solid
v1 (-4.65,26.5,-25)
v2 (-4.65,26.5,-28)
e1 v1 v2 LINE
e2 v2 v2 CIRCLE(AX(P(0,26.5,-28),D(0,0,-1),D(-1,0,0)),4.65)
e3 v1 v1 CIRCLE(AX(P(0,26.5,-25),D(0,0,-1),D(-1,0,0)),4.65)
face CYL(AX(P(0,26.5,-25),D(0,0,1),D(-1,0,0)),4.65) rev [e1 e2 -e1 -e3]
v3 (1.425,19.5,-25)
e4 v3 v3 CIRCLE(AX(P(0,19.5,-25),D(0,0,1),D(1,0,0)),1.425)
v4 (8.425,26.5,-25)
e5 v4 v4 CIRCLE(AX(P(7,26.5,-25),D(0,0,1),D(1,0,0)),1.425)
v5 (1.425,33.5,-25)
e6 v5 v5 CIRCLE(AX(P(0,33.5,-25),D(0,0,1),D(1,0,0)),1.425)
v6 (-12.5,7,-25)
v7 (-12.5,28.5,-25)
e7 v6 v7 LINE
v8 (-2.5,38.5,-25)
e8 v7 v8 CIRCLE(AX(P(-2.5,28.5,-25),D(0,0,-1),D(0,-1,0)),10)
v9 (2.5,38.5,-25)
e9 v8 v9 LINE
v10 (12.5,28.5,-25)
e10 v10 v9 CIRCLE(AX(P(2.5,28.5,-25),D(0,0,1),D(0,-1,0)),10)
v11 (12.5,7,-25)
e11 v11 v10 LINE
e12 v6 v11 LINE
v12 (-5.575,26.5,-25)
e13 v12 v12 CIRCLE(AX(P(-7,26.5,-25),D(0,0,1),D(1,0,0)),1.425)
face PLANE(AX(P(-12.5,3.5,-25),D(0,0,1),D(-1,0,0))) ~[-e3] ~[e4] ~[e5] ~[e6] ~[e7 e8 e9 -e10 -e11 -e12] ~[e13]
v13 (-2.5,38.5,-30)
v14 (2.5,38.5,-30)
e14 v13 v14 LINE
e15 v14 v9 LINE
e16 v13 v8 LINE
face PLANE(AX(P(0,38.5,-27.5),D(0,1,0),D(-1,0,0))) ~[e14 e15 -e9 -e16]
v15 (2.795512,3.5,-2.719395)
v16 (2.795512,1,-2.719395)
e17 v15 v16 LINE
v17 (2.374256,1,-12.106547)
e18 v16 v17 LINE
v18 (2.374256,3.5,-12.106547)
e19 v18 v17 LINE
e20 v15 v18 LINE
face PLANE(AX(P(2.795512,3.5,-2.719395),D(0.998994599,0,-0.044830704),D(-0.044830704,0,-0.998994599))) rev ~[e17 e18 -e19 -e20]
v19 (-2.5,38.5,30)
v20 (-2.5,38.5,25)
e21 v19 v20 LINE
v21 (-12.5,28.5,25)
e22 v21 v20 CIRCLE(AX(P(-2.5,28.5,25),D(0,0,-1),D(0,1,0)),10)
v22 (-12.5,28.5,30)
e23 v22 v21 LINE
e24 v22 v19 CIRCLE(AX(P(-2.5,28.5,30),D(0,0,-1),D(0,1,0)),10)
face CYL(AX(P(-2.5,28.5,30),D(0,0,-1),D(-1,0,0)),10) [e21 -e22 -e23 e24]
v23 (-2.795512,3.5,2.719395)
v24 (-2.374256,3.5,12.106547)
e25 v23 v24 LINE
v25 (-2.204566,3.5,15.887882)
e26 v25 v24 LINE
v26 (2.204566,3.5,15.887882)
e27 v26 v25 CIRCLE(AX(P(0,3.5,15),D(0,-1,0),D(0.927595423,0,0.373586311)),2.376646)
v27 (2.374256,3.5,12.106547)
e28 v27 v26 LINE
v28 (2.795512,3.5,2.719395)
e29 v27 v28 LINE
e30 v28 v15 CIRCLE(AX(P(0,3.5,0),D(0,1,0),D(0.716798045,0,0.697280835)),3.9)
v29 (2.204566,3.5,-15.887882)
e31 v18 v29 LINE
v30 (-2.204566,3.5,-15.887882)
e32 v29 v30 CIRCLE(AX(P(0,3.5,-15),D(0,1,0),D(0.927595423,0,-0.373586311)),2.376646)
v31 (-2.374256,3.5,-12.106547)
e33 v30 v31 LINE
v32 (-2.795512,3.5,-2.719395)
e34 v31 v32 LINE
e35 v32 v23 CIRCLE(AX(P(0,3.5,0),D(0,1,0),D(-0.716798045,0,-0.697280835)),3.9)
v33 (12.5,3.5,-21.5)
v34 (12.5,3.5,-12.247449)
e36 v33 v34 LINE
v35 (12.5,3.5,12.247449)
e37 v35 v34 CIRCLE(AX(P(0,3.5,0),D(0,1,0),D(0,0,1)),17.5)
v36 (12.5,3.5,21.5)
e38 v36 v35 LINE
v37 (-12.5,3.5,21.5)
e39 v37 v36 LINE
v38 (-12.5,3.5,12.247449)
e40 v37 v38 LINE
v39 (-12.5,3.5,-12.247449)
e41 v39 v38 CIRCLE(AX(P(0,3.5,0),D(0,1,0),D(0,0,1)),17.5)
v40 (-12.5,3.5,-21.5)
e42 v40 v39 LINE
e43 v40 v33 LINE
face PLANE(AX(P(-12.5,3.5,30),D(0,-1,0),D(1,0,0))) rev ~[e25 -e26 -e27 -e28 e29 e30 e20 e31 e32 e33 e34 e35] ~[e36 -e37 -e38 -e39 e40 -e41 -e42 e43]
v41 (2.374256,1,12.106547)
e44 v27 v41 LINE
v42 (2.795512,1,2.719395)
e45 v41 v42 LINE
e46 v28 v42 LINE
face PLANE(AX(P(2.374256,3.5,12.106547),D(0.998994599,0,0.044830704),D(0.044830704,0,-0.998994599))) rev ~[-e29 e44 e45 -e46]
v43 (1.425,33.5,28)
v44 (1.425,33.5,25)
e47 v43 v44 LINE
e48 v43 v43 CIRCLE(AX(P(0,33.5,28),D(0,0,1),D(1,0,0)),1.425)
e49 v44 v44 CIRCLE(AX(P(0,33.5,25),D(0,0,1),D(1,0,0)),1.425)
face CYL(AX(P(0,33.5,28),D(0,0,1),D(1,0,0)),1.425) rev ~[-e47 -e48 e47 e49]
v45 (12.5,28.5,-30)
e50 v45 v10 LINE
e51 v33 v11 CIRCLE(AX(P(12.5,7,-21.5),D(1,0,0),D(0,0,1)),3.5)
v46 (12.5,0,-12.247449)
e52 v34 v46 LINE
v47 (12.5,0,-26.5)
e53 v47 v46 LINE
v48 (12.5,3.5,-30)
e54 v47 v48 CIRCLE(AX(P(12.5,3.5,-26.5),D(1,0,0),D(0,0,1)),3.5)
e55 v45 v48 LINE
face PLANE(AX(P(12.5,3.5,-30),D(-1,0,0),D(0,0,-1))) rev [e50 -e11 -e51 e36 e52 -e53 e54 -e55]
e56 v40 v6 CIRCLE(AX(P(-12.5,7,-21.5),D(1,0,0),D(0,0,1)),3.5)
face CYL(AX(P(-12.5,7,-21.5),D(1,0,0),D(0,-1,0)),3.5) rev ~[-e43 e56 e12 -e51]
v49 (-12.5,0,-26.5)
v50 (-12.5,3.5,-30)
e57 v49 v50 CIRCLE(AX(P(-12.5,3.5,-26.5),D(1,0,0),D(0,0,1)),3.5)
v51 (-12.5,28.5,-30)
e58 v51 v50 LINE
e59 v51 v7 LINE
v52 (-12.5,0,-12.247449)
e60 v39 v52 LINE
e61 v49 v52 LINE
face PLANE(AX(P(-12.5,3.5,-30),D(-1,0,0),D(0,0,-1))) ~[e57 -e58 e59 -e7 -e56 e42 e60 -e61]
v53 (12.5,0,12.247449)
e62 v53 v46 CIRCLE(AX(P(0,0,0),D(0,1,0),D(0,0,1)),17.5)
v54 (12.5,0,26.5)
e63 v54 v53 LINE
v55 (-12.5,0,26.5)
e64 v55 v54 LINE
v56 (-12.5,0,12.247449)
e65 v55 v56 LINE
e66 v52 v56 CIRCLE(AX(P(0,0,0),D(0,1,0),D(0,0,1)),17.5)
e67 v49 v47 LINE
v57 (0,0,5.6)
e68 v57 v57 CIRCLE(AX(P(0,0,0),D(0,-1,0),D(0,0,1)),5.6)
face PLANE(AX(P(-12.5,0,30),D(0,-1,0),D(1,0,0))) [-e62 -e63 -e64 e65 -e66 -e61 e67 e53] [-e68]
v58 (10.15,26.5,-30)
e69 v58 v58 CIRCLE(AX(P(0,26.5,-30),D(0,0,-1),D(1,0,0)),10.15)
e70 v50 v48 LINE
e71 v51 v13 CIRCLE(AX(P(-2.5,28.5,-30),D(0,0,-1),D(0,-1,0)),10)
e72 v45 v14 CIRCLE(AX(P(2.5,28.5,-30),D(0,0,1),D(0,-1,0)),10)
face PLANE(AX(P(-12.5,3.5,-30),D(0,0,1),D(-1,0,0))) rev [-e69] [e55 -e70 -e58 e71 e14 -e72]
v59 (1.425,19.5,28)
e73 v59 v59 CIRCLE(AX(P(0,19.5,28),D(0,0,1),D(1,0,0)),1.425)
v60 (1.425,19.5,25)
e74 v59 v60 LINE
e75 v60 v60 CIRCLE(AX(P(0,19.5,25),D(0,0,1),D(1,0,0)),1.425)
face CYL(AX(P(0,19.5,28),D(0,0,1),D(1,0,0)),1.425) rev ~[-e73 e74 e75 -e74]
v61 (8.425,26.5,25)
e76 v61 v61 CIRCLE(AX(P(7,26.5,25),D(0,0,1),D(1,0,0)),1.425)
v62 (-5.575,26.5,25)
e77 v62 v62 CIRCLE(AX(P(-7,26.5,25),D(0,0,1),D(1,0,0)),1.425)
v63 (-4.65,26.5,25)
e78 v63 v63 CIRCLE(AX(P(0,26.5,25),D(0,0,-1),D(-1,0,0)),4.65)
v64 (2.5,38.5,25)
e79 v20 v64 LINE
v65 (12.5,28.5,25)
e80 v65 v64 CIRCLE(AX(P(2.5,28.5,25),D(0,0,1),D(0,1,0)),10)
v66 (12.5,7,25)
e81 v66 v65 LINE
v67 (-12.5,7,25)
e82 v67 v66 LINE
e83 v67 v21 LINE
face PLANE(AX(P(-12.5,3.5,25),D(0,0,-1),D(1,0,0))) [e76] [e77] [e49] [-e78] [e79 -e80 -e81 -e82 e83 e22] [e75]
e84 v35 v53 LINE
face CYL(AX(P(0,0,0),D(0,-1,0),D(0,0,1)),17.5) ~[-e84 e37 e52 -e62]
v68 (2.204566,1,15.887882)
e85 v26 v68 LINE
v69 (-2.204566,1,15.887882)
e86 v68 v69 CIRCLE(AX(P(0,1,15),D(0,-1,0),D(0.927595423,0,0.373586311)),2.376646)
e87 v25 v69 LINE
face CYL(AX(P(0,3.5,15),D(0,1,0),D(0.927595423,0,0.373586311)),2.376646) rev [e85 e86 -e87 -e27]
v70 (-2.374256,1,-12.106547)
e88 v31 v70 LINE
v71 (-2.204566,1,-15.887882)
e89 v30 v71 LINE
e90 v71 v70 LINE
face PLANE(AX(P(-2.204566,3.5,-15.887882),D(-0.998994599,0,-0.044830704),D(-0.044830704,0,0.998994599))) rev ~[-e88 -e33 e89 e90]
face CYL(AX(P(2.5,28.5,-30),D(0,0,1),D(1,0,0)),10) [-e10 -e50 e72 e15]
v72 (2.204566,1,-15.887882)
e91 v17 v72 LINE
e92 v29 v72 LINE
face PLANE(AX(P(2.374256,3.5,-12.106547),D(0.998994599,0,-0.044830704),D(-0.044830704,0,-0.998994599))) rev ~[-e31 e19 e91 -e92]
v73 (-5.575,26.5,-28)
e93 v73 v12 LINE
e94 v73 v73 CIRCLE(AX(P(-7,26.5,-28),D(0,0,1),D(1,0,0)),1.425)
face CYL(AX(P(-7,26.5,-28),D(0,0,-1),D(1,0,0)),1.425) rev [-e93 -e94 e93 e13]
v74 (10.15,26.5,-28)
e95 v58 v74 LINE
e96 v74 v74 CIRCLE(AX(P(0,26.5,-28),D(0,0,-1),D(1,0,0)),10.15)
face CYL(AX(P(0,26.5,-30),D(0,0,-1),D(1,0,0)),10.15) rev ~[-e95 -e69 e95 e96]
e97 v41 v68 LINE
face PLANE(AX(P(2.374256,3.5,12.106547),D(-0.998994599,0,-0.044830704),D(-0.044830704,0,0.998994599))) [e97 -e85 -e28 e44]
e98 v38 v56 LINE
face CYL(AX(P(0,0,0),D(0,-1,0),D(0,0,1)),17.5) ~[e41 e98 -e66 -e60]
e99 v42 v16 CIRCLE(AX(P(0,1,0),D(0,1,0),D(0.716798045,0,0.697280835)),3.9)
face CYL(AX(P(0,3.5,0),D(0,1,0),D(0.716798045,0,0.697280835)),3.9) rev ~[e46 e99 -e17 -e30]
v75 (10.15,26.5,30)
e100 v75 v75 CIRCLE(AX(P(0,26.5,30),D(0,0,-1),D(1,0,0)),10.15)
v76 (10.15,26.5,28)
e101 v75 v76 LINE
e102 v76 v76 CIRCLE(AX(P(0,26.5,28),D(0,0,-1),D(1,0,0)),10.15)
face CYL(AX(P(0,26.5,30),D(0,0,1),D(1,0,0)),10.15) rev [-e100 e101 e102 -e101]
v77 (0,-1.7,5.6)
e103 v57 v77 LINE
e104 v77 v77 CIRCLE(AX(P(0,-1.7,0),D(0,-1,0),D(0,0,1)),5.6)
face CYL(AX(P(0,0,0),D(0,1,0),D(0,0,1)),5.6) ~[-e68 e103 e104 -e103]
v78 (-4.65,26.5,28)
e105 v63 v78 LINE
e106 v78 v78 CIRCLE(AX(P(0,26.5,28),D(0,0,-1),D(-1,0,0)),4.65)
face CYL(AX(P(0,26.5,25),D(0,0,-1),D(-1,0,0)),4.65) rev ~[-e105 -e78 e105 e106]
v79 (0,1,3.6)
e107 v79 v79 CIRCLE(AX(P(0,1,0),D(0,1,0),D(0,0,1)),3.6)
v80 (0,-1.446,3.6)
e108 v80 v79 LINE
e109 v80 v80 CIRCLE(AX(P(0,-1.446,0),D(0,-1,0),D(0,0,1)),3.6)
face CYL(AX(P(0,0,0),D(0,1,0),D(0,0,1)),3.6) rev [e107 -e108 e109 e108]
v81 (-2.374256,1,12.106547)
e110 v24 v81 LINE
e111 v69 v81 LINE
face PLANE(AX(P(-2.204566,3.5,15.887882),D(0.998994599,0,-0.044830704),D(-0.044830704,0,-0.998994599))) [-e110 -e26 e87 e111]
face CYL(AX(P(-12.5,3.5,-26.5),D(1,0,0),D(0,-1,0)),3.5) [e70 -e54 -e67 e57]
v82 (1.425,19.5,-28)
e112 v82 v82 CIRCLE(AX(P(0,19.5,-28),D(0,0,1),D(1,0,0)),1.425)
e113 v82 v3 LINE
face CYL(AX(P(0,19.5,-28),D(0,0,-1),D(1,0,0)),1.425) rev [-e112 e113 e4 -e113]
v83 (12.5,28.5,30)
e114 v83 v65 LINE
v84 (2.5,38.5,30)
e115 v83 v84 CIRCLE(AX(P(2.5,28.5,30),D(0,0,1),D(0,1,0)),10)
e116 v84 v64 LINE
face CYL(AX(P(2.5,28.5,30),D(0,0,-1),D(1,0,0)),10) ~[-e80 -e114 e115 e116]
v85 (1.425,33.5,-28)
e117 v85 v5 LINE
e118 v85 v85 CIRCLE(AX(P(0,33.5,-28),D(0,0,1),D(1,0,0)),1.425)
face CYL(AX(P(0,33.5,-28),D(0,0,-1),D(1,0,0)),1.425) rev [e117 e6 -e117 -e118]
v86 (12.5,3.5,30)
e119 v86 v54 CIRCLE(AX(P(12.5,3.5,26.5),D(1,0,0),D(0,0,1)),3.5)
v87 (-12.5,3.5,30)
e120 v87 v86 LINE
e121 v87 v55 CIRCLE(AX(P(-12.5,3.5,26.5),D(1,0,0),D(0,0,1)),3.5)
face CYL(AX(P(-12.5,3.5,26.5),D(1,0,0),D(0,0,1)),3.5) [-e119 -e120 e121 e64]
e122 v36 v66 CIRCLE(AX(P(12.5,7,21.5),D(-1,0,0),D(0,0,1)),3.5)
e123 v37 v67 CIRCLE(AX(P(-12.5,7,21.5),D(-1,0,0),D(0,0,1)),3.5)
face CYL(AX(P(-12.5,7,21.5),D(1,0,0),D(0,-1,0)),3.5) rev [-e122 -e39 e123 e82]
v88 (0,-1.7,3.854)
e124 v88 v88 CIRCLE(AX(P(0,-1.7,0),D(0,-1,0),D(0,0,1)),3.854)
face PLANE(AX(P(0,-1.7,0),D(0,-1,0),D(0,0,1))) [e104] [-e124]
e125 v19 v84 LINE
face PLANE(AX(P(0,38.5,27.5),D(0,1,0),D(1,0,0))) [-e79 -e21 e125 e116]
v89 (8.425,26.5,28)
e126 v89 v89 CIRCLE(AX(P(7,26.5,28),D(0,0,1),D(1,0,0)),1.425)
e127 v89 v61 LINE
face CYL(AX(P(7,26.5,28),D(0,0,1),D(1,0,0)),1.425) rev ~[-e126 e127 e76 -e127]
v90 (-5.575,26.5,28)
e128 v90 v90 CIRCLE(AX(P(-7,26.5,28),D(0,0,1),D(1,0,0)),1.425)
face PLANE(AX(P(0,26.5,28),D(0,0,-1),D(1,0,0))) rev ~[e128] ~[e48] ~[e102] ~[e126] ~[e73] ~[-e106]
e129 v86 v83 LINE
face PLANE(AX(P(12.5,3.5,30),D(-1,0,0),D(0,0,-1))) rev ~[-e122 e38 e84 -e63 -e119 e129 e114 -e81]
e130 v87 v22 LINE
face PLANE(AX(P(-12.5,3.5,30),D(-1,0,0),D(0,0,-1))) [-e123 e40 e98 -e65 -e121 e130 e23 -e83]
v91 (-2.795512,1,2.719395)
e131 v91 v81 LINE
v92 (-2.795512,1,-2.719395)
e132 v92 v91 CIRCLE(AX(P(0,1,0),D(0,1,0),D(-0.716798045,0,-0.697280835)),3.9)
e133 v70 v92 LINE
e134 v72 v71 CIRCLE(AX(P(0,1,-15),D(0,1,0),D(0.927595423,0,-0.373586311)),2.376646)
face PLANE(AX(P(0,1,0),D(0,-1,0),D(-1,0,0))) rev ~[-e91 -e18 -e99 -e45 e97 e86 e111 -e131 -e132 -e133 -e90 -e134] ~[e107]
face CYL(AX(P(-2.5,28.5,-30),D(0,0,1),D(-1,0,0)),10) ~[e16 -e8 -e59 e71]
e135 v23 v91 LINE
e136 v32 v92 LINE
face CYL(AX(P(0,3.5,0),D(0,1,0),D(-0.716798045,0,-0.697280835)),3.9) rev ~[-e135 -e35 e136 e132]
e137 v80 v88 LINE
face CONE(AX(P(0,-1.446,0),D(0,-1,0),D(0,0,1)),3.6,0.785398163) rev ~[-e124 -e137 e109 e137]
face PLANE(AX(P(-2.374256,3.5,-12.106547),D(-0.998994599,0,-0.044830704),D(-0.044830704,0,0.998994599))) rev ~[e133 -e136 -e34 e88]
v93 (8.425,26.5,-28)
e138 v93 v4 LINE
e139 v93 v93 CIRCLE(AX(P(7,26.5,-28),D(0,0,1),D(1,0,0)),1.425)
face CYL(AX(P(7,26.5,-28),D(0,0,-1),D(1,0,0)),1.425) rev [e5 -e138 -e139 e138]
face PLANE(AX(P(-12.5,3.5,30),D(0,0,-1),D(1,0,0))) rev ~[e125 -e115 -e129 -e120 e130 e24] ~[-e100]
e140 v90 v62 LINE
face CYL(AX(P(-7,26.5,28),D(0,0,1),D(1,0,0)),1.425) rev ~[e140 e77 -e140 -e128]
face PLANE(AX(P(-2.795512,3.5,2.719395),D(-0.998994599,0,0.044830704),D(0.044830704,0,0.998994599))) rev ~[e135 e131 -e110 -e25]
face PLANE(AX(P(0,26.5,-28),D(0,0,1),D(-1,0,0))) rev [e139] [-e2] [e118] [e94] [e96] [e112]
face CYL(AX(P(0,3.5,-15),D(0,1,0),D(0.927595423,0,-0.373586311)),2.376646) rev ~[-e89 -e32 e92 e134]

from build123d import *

# Parameters (mm, degrees)
CROQUIS1_R                   = 17.5
CROQUIS1_R_2                 = 1.65
SALIENTE_EXTRUIR1_DEPTH      = 3.5
CORTAR_EXTRUIR1_DEPTH        = 2.5
CROQUIS4_R                   = 3.6
CORTAR_EXTRUIR2_DEPTH        = 25.874685928
CORTAR_EXTRUIR2_DEPTH_BACK   = 25.874685928
CROQUIS5_R                   = 5.6
CROQUIS5_R_2                 = 3.6
SALIENTE_EXTRUIR2_DEPTH      = 1.7
SALIENTE_EXTRUIR3_REACH      = 52.742
SALIENTE_EXTRUIR3_END_RADIUS = 17.5
CROQUIS6_W                   = 25
CROQUIS6_H                   = 3.5
CROQUIS7_W                   = 25
CROQUIS7_H                   = 5
SALIENTE_EXTRUIR4_DEPTH      = 35
REDONDEO1_R                  = 3.5
REDONDEO1_OF_SIMETR_A1_R     = 3.5
CHAFL_N1_SIZE                = 0.254
CORTAR_EXTRUIR3_DEPTH        = 2.5
CROQUIS10_R                  = 10.15
CROQUIS10_R_2                = 1.425
CROQUIS10_R_3                = 1
CORTAR_EXTRUIR7_DEPTH        = 2
CORTAR_EXTRUIR8_REACH        = 71.379
CROQUIS11_R                  = 4.65
CORTAR_EXTRUIR9_REACH        = 73.781
CROQUIS13_R                  = 1.425
REDONDEO2_R                  = 10
CORTAR_EXTRUIR10_DEPTH       = 2.5


with BuildPart() as part:
    # Croquis1 → Saliente-Extruir1 (new body)
    with BuildSketch(Plane(origin=(0, 0, 0), x_dir=(1, 0, 0), z_dir=(0, 1, 0))):
        with Locations(Location((0, 0, 0), (0, 0, 270))):
            Circle(CROQUIS1_R)
        with Locations(Location((0, 0, 0), (0, 0, 270))):
            Circle(CROQUIS1_R_2, mode=Mode.SUBTRACT)
        with BuildLine():
            Line((-1.997159934, -12.106546701), (-2.53, -2.118749631))
            ThreePointArc((-2.53, -2.118749631), (-3.3, 0), (-2.53, 2.118749631))
            Line((-2.53, 2.118749631), (-1.997159934, 12.106546701))
            ThreePointArc((-1.997159934, 12.106546701), (0, 14), (1.997159934, 12.106546701))
            Line((1.997159934, 12.106546701), (2.53, 2.118749631))
            ThreePointArc((2.53, 2.118749631), (3.3, 0), (2.53, -2.118749631))
            Line((2.53, -2.118749631), (1.997159934, -12.106546701))
            ThreePointArc((1.997159934, -12.106546701), (0, -14), (-1.997159934, -12.106546701))
        make_face()
        with Locations(Location((0, 0, 0), (0, 0, 270))):
            Circle(CROQUIS1_R_2, mode=Mode.SUBTRACT)
    extrude(amount=SALIENTE_EXTRUIR1_DEPTH)

    # Croquis2 → Cortar-Extruir1 (cut)
    with BuildSketch(Plane(origin=(0, 3.5, 0), x_dir=(1, 0, 0), z_dir=(0, 1, 0))):
        with BuildLine():
            Line((-1.997159934, -12.106546701), (-2.53, -2.118749631))
            ThreePointArc((-2.53, -2.118749631), (-3.3, 0), (-2.53, 2.118749631))
            Line((-2.53, 2.118749631), (-1.997159934, 12.106546701))
            ThreePointArc((-1.997159934, 12.106546701), (0, 14), (1.997159934, 12.106546701))
            Line((1.997159934, 12.106546701), (2.53, 2.118749631))
            ThreePointArc((2.53, 2.118749631), (3.3, 0), (2.53, -2.118749631))
            Line((2.53, -2.118749631), (1.997159934, -12.106546701))
            ThreePointArc((1.997159934, -12.106546701), (0, -14), (-1.997159934, -12.106546701))
        make_face()
    extrude(amount=-CORTAR_EXTRUIR1_DEPTH, mode=Mode.SUBTRACT)

    # Croquis4 → Cortar-Extruir2 (cut, two sides)
    with BuildSketch(Plane(origin=(0, 1, 0), x_dir=(1, 0, 0), z_dir=(0, 1, 0))) as cortar_extruir2_sk:
        with Locations(Location((0, 0, 0), (0, 0, 270))):
            Circle(CROQUIS4_R)
    extrude(amount=CORTAR_EXTRUIR2_DEPTH, mode=Mode.SUBTRACT)
    extrude(cortar_extruir2_sk.sketch, amount=-CORTAR_EXTRUIR2_DEPTH_BACK, mode=Mode.SUBTRACT)

    # Croquis5 → Saliente-Extruir2 (add)
    with BuildSketch(Plane.XZ):
        with Locations(Location((0, 0, 0), (0, 0, 90))):
            Circle(CROQUIS5_R)
        with Locations(Location((0, 0, 0), (0, 0, 90))):
            Circle(CROQUIS5_R_2, mode=Mode.SUBTRACT)
    extrude(amount=SALIENTE_EXTRUIR2_DEPTH)

    # Saliente-Extruir3: up to this cylinder (the profile starts outside it)
    saliente_extruir3_end = Plane(origin=(0, 1.75, 0), z_dir=(0, -1, 0)) * Cylinder(SALIENTE_EXTRUIR3_END_RADIUS, 141.484, mode=Mode.PRIVATE)
    # Croquis6 → Saliente-Extruir3 (add, up to the surface)
    with BuildSketch(Plane.XY.offset(30), mode=Mode.PRIVATE) as saliente_extruir3_sk1:
        with Locations((0, 1.75)):
            Rectangle(CROQUIS6_W, CROQUIS6_H)
    saliente_extruir3_tool1 = extrude(saliente_extruir3_sk1.sketch, amount=-SALIENTE_EXTRUIR3_REACH, mode=Mode.PRIVATE) - saliente_extruir3_end
    saliente_extruir3 = saliente_extruir3_tool1.solids().sort_by_distance((0, 1.75, 30))[0]
    add(saliente_extruir3)

    # Croquis7 → Saliente-Extruir4 (add)
    with BuildSketch(Plane(origin=(0, 3.5, 0), x_dir=(1, 0, 0), z_dir=(0, 1, 0))):
        with Locations((0, -27.5)):
            Rectangle(CROQUIS7_W, CROQUIS7_H)
    saliente_extruir4 = extrude(amount=SALIENTE_EXTRUIR4_DEPTH)

    # Redondeo1
    redondeo1_edges = [part.edges().sort_by_distance(p)[0] for p in [
        (0, 0, 30),
        (0, 3.5, 25),
    ]]
    fillet(redondeo1_edges, radius=REDONDEO1_R)

    # Simetría1: Saliente-Extruir3, Saliente-Extruir4 across plane
    add(saliente_extruir3.mirror(Plane.XY))
    add(saliente_extruir4.mirror(Plane.XY))

    # Redondeo1 of Simetría1
    redondeo1_of_simetr_a1_edges = [part.edges().sort_by_distance(p)[0] for p in [
        (0, 0, -30),
        (0, 3.5, -25),
    ]]
    fillet(redondeo1_of_simetr_a1_edges, radius=REDONDEO1_OF_SIMETR_A1_R)

    # Chaflán1
    chafl_n1_edges = [part.edges().sort_by_distance(p)[0] for p in [
        (0, -1.7, -3.6),
    ]]
    chamfer(chafl_n1_edges, length=CHAFL_N1_SIZE)

    # Croquis8 → Cortar-Extruir3 (cut)
    with BuildSketch(Plane(origin=(0, 3.5, 0), x_dir=(1, 0, 0), z_dir=(0, 1, 0))):
        with BuildLine():
            Line((-2.795512377, -2.719395254), (-2.374256235, -12.106546701))
            ThreePointArc((-2.374256235, -12.106546701), (0, -14.376645718), (2.374256235, -12.106546701))
            Line((2.374256235, -12.106546701), (2.795512377, -2.719395254))
            ThreePointArc((2.795512377, -2.719395254), (3.9, 0), (2.795512377, 2.719395254))
            Line((2.795512377, 2.719395254), (2.374256235, 12.106546701))
            ThreePointArc((2.374256235, 12.106546701), (0, 14.376645718), (-2.374256235, 12.106546701))
            Line((-2.374256235, 12.106546701), (-2.795512377, 2.719395254))
            ThreePointArc((-2.795512377, 2.719395254), (-3.9, 0), (-2.795512377, -2.719395254))
        make_face()
    extrude(amount=-CORTAR_EXTRUIR3_DEPTH, mode=Mode.SUBTRACT)

    # Croquis10 → Cortar-Extruir7 (cut)
    with BuildSketch(Plane(origin=(0, 0, 30), x_dir=(-1, 0, 0), z_dir=(0, 0, -1))):
        with Locations(Location((0, 26.5, 0), (0, 0, 180))):
            Circle(CROQUIS10_R)
        with Locations((-7, 26.5)):
            Circle(CROQUIS10_R_2, mode=Mode.SUBTRACT)
        with Locations((0, 33.5)):
            Circle(CROQUIS10_R_2, mode=Mode.SUBTRACT)
        with Locations((0, 26.5)):
            Circle(CROQUIS10_R_3, mode=Mode.SUBTRACT)
        with Locations((7, 26.5)):
            Circle(CROQUIS10_R_2, mode=Mode.SUBTRACT)
        with Locations((0, 19.5)):
            Circle(CROQUIS10_R_2, mode=Mode.SUBTRACT)
        with Locations((7, 26.5)):
            Circle(CROQUIS10_R_2)
        with Locations((0, 26.5)):
            Circle(CROQUIS10_R_3)
        with Locations((0, 33.5)):
            Circle(CROQUIS10_R_2)
        with Locations((-7, 26.5)):
            Circle(CROQUIS10_R_2)
        with Locations((0, 19.5)):
            Circle(CROQUIS10_R_2)
    cortar_extruir7 = extrude(amount=CORTAR_EXTRUIR7_DEPTH, mode=Mode.SUBTRACT)

    # Croquis11 → Cortar-Extruir8 (cut, up to next)
    with BuildSketch(Plane(origin=(0, 0, 25), x_dir=(-1, 0, 0), z_dir=(0, 0, -1)), mode=Mode.PRIVATE) as cortar_extruir8_sk1:
        with Locations((0, 26.5)):
            Circle(CROQUIS11_R)
    cortar_extruir8_tool1 = extrude(cortar_extruir8_sk1.sketch, amount=-CORTAR_EXTRUIR8_REACH, mode=Mode.PRIVATE) & part.part
    cortar_extruir8 = cortar_extruir8_tool1.solids().sort_by_distance((0, 26.5, 25))[0]
    add(cortar_extruir8, mode=Mode.SUBTRACT)

    # Croquis13 → Cortar-Extruir9 (cut, up to next)
    with BuildSketch(Plane.XY.offset(28), mode=Mode.PRIVATE) as cortar_extruir9_sk1:
        with Locations((0, 19.5)):
            Circle(CROQUIS13_R)
    cortar_extruir9_tool1 = extrude(cortar_extruir9_sk1.sketch, amount=-CORTAR_EXTRUIR9_REACH, mode=Mode.PRIVATE) & part.part
    # Croquis13 → Cortar-Extruir9 (cut, up to next)
    with BuildSketch(Plane.XY.offset(28), mode=Mode.PRIVATE) as cortar_extruir9_sk2:
        with Locations((7, 26.5)):
            Circle(CROQUIS13_R)
    cortar_extruir9_tool2 = extrude(cortar_extruir9_sk2.sketch, amount=-CORTAR_EXTRUIR9_REACH, mode=Mode.PRIVATE) & part.part
    # Croquis13 → Cortar-Extruir9 (cut, up to next)
    with BuildSketch(Plane.XY.offset(28), mode=Mode.PRIVATE) as cortar_extruir9_sk3:
        with Locations((0, 33.5)):
            Circle(CROQUIS13_R)
    cortar_extruir9_tool3 = extrude(cortar_extruir9_sk3.sketch, amount=-CORTAR_EXTRUIR9_REACH, mode=Mode.PRIVATE) & part.part
    # Croquis13 → Cortar-Extruir9 (cut, up to next)
    with BuildSketch(Plane.XY.offset(28), mode=Mode.PRIVATE) as cortar_extruir9_sk4:
        with Locations((-7, 26.5)):
            Circle(CROQUIS13_R)
    cortar_extruir9_tool4 = extrude(cortar_extruir9_sk4.sketch, amount=-CORTAR_EXTRUIR9_REACH, mode=Mode.PRIVATE) & part.part
    cortar_extruir9_1 = cortar_extruir9_tool1.solids().sort_by_distance((0, 19.5, 28))[0]
    add(cortar_extruir9_1, mode=Mode.SUBTRACT)
    cortar_extruir9_2 = cortar_extruir9_tool2.solids().sort_by_distance((7, 26.5, 28))[0]
    add(cortar_extruir9_2, mode=Mode.SUBTRACT)
    cortar_extruir9_3 = cortar_extruir9_tool3.solids().sort_by_distance((0, 33.5, 28))[0]
    add(cortar_extruir9_3, mode=Mode.SUBTRACT)
    cortar_extruir9_4 = cortar_extruir9_tool4.solids().sort_by_distance((-7, 26.5, 28))[0]
    add(cortar_extruir9_4, mode=Mode.SUBTRACT)
    cortar_extruir9 = cortar_extruir9_1 + cortar_extruir9_2 + cortar_extruir9_3 + cortar_extruir9_4  # Cortar-Extruir9 as one shape, for the pattern or mirror that repeats it

    # Simetría2: Cortar-Extruir7, Cortar-Extruir8, Cortar-Extruir9 across plane
    add(cortar_extruir7.mirror(Plane.XY), mode=Mode.SUBTRACT)
    add(cortar_extruir8.mirror(Plane.XY), mode=Mode.SUBTRACT)
    add(cortar_extruir9.mirror(Plane.XY), mode=Mode.SUBTRACT)

    # Redondeo2
    redondeo2_edges = [part.edges().sort_by_distance(p)[0] for p in [
        (12.5, 38.5, -27.5),
        (-12.5, 38.5, -27.5),
        (12.5, 38.5, 27.5),
        (-12.5, 38.5, 27.5),
    ]]
    fillet(redondeo2_edges, radius=REDONDEO2_R)

    # Croquis15 → Cortar-Extruir10 (cut)
    with BuildSketch(Plane(origin=(0, 3.5, 0), x_dir=(1, 0, 0), z_dir=(0, 1, 0))):
        with BuildLine():
            Line((2.374256235, 12.106546701), (2.20456569, 15.887882306))
            ThreePointArc((2.20456569, 15.887882306), (0, 17.376645718), (-2.20456569, 15.887882306))
            Line((-2.20456569, 15.887882306), (-2.374256235, 12.106546701))
            ThreePointArc((-2.374256235, 12.106546701), (0, 14.376645718), (2.374256235, 12.106546701))
        make_face()
        with BuildLine():
            Line((2.374256235, -12.106546701), (2.20456569, -15.887882306))
            ThreePointArc((2.20456569, -15.887882306), (0, -17.376645718), (-2.20456569, -15.887882306))
            Line((-2.20456569, -15.887882306), (-2.374256235, -12.106546701))
            ThreePointArc((-2.374256235, -12.106546701), (0, -14.376645718), (2.374256235, -12.106546701))
        make_face()
    extrude(amount=-CORTAR_EXTRUIR10_DEPTH, mode=Mode.SUBTRACT)


solid = part.part
